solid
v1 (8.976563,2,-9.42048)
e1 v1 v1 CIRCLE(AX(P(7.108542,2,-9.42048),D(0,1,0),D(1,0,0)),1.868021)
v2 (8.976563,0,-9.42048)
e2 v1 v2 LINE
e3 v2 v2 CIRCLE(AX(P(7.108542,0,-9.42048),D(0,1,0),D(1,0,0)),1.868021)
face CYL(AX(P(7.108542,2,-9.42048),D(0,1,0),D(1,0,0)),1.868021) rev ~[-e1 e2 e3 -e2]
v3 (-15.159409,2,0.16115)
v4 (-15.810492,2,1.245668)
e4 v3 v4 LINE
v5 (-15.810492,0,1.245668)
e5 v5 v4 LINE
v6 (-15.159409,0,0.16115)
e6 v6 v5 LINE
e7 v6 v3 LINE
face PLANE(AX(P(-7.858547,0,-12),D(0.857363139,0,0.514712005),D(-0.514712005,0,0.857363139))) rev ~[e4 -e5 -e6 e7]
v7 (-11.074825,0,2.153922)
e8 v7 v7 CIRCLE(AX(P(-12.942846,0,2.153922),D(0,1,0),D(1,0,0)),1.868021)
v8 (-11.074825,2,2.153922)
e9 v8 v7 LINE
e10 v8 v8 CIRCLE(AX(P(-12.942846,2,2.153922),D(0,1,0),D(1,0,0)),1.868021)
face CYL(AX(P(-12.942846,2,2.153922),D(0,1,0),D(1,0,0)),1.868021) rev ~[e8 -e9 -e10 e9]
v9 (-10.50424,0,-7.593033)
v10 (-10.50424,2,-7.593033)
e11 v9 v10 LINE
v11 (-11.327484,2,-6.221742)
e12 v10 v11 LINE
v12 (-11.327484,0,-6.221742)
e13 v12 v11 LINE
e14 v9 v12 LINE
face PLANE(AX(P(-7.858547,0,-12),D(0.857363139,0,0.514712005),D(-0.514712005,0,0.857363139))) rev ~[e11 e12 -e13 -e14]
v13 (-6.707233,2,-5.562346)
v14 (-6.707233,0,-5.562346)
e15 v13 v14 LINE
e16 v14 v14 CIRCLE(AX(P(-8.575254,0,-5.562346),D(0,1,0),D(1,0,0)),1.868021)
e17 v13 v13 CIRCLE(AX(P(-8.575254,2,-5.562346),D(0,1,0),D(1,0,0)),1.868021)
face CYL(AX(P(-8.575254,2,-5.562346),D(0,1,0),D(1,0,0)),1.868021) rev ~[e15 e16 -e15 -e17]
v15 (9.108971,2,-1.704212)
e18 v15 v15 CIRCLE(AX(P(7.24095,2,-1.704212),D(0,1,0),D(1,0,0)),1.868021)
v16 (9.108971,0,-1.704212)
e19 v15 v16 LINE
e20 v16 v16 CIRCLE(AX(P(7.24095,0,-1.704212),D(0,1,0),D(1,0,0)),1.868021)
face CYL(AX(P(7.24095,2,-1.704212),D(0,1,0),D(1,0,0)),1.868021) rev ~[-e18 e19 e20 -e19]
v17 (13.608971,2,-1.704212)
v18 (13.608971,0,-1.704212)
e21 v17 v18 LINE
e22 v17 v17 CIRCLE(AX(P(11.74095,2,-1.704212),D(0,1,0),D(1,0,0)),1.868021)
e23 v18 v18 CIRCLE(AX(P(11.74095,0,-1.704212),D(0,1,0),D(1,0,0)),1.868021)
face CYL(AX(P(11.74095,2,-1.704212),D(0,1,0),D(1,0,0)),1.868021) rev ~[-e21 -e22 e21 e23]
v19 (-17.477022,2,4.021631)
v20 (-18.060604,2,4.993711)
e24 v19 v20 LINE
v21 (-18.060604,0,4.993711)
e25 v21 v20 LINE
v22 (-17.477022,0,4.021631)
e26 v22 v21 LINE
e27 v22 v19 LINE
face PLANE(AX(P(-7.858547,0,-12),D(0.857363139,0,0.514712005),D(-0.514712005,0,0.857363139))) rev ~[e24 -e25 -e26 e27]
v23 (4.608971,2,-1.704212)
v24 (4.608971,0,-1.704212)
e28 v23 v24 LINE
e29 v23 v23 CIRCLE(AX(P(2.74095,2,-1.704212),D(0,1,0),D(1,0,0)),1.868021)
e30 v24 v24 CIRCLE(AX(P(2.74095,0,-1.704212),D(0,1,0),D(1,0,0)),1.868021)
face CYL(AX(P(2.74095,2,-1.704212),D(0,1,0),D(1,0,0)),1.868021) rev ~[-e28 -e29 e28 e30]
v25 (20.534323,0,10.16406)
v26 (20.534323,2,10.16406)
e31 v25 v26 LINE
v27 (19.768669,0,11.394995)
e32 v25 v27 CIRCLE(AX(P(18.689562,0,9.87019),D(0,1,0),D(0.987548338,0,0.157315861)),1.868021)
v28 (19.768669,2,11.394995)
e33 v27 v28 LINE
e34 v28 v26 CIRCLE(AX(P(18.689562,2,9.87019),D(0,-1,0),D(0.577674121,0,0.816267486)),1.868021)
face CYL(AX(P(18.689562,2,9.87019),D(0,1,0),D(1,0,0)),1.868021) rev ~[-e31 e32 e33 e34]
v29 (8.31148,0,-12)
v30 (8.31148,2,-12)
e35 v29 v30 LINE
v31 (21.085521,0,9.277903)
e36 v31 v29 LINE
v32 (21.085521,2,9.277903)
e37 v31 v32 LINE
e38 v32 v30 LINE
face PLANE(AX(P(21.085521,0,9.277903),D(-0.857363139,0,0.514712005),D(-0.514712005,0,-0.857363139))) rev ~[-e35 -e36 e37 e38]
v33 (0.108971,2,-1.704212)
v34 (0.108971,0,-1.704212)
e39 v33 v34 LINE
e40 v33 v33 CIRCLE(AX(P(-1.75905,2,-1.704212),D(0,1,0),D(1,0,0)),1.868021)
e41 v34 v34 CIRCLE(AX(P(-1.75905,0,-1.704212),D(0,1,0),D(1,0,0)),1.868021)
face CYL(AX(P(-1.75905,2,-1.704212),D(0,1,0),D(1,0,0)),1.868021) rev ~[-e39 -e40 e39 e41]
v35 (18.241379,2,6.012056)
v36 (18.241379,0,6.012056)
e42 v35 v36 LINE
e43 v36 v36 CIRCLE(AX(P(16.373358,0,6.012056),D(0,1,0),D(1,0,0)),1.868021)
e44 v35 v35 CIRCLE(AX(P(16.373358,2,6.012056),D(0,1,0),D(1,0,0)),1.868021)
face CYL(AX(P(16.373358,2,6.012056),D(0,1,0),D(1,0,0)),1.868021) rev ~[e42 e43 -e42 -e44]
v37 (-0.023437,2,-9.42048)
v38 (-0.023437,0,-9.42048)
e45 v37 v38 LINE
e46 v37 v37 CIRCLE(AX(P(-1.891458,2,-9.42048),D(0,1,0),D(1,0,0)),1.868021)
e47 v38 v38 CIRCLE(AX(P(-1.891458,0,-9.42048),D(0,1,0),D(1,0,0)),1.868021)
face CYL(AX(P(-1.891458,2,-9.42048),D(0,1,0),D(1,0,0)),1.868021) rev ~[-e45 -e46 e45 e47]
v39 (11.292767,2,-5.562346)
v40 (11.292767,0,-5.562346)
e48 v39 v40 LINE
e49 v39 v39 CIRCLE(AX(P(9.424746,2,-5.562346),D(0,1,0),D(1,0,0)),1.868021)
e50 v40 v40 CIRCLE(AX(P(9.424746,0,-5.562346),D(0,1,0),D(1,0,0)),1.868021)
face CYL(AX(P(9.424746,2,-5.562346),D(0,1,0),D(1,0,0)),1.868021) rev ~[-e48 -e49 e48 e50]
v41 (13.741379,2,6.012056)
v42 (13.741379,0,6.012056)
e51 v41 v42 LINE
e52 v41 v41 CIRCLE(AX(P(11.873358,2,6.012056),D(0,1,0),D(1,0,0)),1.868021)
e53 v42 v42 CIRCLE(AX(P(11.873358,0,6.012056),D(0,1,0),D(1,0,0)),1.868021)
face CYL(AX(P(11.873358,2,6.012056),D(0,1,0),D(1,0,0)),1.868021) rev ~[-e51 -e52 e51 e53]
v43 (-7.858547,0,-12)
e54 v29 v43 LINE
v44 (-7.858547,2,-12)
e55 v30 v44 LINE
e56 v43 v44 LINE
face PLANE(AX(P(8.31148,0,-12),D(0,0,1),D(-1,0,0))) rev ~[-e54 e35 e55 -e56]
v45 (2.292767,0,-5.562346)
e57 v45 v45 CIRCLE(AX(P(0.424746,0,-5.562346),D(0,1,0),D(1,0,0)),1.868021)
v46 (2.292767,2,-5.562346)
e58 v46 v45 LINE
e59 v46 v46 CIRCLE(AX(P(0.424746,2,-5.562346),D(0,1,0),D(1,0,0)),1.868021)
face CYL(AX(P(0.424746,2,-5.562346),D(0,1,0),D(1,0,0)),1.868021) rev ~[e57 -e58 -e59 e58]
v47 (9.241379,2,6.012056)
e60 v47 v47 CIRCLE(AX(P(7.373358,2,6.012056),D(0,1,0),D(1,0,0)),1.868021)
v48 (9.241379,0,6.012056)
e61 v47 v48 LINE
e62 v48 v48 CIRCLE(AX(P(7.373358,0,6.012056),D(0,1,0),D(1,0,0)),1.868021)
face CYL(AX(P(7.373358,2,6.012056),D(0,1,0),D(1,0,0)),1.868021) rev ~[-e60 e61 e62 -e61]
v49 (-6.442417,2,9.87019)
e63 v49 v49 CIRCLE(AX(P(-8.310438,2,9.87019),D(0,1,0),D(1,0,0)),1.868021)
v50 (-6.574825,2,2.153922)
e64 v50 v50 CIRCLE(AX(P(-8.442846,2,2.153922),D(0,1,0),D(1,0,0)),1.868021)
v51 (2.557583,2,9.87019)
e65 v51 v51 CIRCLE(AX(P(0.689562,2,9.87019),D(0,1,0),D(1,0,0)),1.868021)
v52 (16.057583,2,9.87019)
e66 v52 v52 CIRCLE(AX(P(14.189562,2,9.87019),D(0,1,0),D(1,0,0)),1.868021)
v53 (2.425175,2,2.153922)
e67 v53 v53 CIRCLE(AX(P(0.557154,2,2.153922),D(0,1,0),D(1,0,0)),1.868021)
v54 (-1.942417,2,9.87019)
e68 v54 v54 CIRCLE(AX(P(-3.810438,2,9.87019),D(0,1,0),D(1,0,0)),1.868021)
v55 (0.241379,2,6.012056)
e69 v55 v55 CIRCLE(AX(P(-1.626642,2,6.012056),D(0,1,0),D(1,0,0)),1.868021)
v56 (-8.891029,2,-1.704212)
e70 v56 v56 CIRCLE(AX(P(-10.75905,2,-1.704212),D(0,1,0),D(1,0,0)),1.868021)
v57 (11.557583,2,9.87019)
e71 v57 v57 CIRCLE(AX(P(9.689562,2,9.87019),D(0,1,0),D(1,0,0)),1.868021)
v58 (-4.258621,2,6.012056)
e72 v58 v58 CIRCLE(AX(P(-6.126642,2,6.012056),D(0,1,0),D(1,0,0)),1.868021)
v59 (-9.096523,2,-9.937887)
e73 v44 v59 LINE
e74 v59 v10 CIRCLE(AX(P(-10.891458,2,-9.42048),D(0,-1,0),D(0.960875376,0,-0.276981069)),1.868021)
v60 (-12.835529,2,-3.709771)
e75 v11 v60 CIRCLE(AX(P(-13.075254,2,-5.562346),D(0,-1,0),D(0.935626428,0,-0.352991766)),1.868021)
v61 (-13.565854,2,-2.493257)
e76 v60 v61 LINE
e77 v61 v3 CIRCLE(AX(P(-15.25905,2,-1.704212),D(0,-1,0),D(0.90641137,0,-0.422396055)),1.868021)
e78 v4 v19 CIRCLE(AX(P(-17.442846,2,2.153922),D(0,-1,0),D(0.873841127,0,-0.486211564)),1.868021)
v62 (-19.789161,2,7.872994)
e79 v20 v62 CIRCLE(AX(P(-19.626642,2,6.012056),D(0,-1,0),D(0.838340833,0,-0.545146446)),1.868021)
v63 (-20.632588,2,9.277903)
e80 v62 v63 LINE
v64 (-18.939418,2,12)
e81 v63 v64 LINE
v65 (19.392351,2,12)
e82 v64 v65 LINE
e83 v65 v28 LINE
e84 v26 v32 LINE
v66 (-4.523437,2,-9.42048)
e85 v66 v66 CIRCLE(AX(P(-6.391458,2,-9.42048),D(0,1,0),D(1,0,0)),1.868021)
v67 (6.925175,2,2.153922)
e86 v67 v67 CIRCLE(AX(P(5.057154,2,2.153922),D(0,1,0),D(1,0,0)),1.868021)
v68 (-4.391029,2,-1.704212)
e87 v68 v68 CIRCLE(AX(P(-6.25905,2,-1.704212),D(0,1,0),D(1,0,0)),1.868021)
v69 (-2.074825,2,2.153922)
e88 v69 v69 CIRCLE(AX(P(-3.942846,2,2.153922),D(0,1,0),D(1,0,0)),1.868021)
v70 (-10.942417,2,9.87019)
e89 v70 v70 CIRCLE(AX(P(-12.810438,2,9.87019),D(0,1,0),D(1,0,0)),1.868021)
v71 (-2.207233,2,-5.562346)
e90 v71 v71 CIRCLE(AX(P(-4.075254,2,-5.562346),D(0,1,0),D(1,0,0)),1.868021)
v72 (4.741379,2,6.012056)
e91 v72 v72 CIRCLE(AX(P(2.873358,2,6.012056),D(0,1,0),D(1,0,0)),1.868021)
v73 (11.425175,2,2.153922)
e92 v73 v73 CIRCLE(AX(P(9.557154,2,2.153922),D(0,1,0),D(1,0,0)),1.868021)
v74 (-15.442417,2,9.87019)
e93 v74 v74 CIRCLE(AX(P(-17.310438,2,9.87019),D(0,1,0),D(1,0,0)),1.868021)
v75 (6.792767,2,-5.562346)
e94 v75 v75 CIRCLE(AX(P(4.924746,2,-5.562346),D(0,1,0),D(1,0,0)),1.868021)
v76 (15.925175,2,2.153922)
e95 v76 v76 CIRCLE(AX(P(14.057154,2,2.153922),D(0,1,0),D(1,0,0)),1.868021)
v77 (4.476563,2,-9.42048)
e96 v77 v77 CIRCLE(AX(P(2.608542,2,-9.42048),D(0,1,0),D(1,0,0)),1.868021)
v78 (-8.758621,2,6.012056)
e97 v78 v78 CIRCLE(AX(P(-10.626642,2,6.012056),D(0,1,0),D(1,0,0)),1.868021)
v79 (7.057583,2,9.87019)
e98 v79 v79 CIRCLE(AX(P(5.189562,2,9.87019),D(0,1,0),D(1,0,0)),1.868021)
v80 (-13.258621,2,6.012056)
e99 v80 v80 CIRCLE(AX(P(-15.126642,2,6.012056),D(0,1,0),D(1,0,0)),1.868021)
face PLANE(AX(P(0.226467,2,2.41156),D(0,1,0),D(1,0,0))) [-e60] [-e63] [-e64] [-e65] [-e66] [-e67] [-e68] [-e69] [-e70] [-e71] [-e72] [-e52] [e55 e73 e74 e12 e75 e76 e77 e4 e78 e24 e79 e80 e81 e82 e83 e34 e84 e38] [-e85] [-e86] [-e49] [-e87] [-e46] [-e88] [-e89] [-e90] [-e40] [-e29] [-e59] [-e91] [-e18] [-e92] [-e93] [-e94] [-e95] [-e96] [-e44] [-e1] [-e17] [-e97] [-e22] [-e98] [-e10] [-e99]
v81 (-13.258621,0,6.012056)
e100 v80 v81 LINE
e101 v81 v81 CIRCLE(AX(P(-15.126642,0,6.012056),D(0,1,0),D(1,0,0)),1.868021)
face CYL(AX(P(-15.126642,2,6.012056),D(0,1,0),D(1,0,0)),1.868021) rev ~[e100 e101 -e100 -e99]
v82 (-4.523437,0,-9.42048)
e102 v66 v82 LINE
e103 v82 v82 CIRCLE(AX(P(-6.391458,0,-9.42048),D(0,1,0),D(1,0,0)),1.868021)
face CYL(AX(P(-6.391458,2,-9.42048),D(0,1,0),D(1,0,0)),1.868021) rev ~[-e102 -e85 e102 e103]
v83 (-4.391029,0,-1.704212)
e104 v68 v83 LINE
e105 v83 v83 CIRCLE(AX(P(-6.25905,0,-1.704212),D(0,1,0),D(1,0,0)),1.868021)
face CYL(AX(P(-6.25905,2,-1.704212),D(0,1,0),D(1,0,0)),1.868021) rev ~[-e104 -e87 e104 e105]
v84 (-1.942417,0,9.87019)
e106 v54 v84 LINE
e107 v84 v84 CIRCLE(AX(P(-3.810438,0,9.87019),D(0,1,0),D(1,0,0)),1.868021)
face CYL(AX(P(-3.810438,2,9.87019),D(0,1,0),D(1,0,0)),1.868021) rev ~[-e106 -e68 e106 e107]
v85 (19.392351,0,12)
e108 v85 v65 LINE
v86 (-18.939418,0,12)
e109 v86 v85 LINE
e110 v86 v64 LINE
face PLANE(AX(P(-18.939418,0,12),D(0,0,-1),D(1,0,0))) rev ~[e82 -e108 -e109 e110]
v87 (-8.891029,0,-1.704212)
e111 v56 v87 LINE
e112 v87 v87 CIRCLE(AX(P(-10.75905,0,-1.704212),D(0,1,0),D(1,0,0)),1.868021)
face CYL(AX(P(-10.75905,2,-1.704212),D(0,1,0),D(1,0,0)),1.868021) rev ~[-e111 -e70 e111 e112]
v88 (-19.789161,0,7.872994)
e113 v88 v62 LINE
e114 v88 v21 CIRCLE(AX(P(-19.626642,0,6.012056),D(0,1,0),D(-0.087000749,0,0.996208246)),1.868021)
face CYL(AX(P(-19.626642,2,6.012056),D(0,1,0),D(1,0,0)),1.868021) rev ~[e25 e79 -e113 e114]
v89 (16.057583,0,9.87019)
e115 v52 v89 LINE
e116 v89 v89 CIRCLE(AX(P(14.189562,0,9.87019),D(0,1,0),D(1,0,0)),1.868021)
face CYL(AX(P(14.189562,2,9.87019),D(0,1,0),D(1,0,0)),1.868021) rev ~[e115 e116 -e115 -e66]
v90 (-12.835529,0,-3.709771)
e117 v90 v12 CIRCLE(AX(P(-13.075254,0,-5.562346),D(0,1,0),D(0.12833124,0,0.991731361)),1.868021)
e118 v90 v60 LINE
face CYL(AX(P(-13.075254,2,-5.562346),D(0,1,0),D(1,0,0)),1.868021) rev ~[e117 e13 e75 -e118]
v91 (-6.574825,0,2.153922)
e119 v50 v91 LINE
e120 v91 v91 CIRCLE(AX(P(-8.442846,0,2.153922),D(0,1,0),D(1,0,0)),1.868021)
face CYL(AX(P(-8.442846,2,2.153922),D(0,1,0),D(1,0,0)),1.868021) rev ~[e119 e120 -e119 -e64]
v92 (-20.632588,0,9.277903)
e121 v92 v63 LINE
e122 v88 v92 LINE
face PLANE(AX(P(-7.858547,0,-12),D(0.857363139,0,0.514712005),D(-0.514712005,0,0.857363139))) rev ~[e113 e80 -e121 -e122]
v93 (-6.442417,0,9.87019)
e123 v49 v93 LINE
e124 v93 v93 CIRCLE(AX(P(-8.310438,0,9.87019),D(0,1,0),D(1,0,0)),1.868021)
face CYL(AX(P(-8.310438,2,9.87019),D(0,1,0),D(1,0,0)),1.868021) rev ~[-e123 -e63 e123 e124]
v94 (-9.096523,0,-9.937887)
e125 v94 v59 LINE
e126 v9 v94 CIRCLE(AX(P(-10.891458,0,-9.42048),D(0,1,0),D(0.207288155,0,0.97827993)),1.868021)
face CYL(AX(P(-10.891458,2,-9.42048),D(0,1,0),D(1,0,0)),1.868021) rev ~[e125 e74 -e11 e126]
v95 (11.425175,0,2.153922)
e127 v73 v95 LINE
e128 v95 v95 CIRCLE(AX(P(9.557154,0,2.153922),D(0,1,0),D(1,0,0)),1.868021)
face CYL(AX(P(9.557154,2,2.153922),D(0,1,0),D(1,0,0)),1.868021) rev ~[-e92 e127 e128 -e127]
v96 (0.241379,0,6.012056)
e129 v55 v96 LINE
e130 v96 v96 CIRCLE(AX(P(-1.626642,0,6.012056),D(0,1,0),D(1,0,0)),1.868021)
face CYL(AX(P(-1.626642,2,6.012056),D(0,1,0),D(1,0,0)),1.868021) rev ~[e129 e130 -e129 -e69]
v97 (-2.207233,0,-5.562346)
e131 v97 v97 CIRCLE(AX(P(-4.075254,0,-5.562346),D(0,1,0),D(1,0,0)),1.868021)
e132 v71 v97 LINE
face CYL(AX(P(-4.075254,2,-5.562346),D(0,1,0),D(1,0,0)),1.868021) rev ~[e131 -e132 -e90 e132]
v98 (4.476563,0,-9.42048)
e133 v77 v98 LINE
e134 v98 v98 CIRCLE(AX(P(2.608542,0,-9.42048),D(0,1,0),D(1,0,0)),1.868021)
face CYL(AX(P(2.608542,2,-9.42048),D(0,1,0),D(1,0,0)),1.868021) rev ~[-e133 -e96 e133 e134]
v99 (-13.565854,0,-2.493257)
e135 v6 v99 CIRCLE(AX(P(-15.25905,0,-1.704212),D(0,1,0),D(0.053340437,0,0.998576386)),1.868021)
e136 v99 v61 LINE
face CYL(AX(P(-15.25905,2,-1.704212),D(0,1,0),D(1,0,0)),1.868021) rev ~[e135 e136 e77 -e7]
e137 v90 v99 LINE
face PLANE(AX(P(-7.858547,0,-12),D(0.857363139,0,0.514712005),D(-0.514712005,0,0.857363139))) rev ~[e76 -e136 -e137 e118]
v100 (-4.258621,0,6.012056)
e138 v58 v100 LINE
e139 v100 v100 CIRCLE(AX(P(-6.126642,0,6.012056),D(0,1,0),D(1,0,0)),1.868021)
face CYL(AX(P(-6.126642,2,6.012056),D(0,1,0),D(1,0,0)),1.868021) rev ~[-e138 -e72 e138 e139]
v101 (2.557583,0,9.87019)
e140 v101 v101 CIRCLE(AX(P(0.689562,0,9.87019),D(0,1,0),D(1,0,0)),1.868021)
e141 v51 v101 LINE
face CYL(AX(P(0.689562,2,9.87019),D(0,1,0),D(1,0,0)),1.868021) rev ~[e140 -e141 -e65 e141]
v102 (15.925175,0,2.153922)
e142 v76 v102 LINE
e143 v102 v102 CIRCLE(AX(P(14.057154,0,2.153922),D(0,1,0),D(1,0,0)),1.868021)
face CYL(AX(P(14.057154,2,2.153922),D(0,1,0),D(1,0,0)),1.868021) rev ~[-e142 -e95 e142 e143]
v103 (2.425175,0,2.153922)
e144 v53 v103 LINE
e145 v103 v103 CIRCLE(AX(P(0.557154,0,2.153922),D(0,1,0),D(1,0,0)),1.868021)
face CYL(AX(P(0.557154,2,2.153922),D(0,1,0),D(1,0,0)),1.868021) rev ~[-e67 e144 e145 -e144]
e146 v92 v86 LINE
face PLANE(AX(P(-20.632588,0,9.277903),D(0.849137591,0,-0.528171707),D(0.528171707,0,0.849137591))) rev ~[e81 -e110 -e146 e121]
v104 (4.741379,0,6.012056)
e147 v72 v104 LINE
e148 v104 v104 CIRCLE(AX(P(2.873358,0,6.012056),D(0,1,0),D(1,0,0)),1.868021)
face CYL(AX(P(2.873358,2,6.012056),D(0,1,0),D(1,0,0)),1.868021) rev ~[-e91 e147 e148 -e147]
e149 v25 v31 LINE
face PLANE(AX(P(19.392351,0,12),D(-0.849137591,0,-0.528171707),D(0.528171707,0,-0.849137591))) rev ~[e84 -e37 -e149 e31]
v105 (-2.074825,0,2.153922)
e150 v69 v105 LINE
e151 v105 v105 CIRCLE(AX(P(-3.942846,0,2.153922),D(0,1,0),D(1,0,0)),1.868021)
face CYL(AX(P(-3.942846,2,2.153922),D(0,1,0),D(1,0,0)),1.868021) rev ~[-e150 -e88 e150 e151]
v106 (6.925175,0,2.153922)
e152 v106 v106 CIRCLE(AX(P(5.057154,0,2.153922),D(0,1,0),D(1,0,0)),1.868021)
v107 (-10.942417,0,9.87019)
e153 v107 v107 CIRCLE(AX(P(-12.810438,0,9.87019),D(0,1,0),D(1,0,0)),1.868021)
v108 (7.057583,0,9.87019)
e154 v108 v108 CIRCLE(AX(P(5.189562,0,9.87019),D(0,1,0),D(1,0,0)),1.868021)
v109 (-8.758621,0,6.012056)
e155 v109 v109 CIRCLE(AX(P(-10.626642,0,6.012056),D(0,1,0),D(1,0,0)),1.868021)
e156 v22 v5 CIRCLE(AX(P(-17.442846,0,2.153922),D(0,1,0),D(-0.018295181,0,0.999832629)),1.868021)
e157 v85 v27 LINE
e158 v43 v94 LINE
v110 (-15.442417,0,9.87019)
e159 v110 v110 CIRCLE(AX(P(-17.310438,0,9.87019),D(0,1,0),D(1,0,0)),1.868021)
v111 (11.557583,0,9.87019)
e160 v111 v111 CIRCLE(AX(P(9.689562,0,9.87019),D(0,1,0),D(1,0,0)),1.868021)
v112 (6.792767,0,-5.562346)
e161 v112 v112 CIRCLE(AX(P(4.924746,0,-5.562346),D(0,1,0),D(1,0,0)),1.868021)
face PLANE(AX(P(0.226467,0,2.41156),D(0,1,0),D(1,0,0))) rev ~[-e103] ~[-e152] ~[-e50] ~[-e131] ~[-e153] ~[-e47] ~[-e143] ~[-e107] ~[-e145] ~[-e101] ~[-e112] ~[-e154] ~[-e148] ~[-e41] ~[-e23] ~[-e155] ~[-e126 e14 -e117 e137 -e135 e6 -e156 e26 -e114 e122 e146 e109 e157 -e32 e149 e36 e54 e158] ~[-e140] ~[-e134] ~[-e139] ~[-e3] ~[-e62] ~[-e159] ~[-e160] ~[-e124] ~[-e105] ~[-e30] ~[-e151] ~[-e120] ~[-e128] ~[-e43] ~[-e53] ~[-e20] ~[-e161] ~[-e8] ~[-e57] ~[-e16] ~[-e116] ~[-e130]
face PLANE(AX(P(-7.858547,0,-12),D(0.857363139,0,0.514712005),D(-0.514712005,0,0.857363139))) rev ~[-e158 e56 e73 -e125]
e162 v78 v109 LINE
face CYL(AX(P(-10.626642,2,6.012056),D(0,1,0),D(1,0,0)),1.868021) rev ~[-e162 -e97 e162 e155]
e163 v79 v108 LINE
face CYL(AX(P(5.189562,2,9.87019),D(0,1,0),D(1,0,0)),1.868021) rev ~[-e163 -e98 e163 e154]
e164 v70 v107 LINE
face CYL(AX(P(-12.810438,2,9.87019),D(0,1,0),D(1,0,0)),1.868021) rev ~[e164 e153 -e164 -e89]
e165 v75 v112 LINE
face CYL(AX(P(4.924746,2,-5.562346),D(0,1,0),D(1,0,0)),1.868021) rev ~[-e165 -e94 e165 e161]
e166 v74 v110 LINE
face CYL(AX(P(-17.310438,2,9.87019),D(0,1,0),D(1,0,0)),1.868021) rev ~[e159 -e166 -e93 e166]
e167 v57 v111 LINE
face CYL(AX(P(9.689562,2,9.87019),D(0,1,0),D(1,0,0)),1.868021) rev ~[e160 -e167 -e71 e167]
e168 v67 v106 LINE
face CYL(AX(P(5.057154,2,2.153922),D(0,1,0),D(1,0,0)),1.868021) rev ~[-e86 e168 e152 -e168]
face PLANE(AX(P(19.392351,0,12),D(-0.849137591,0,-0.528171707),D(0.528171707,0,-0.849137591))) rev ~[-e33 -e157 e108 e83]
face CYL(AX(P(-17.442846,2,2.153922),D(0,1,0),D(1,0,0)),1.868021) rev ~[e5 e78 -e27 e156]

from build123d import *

# Parameters (mm, degrees)
BOSS_EXTRUDE1_DEPTH        = 2
SKETCH2_R                  = 1.868021305
CUT_EXTRUDE1_DEPTH         = 2
LPATTERN1_COUNT            = 4
LPATTERN1_PITCH            = 4.5
LPATTERN2_COUNT            = 6
LPATTERN2_PITCH            = 4.5
LPATTERN3_COUNT            = 9
LPATTERN3_PITCH            = 4.5
LPATTERN3_COPY_1_SKETCH_R  = 1.868021305
LPATTERN3_COPY_1_DEPTH     = 2
LPATTERN3_COPY_2_SKETCH_R  = 1.868021305
LPATTERN3_COPY_2_DEPTH     = 2
LPATTERN3_COPY_3_SKETCH_R  = 1.868021305
LPATTERN3_COPY_3_DEPTH     = 2
LPATTERN3_COPY_4_SKETCH_R  = 1.868021305
LPATTERN3_COPY_4_DEPTH     = 2
LPATTERN3_COPY_5_SKETCH_R  = 1.868021305
LPATTERN3_COPY_5_DEPTH     = 2
LPATTERN3_COPY_6_SKETCH_R  = 1.868021305
LPATTERN3_COPY_6_DEPTH     = 2
LPATTERN3_COPY_7_SKETCH_R  = 1.868021305
LPATTERN3_COPY_7_DEPTH     = 2
LPATTERN3_COPY_8_SKETCH_R  = 1.868021305
LPATTERN3_COPY_8_DEPTH     = 2
LPATTERN3_COPY_9_SKETCH_R  = 1.868021305
LPATTERN3_COPY_9_DEPTH     = 2
LPATTERN3_COPY_10_SKETCH_R = 1.868021305
LPATTERN3_COPY_10_DEPTH    = 2
LPATTERN3_COPY_11_SKETCH_R = 1.868021305
LPATTERN3_COPY_11_DEPTH    = 2
LPATTERN3_COPY_12_SKETCH_R = 1.868021305
LPATTERN3_COPY_12_DEPTH    = 2
LPATTERN3_COPY_13_SKETCH_R = 1.868021305
LPATTERN3_COPY_13_DEPTH    = 2
LPATTERN3_COPY_14_SKETCH_R = 1.868021305
LPATTERN3_COPY_14_DEPTH    = 2
LPATTERN3_COPY_15_SKETCH_R = 1.868021305
LPATTERN3_COPY_15_DEPTH    = 2
LPATTERN3_COPY_16_SKETCH_R = 1.868021305
LPATTERN3_COPY_16_DEPTH    = 2
LPATTERN3_COPY_17_SKETCH_R = 1.868021305
LPATTERN3_COPY_17_DEPTH    = 2
LPATTERN3_COPY_18_SKETCH_R = 1.868021305
LPATTERN3_COPY_18_DEPTH    = 2
LPATTERN3_COPY_19_SKETCH_R = 1.868021305
LPATTERN3_COPY_19_DEPTH    = 2
LPATTERN3_COPY_20_SKETCH_R = 1.868021305
LPATTERN3_COPY_20_DEPTH    = 2
LPATTERN3_COPY_21_SKETCH_R = 1.868021305
LPATTERN3_COPY_21_DEPTH    = 2
LPATTERN3_COPY_22_SKETCH_R = 1.868021305
LPATTERN3_COPY_22_DEPTH    = 2
LPATTERN3_COPY_23_SKETCH_R = 1.868021305
LPATTERN3_COPY_23_DEPTH    = 2
LPATTERN3_COPY_24_SKETCH_R = 1.868021305
LPATTERN3_COPY_24_DEPTH    = 2
LPATTERN3_COPY_25_SKETCH_R = 1.868021305
LPATTERN3_COPY_25_DEPTH    = 2
LPATTERN3_COPY_26_SKETCH_R = 1.868021305
LPATTERN3_COPY_26_DEPTH    = 2
LPATTERN3_COPY_27_SKETCH_R = 1.868021305
LPATTERN3_COPY_27_DEPTH    = 2
LPATTERN3_COPY_28_SKETCH_R = 1.868021305
LPATTERN3_COPY_28_DEPTH    = 2
LPATTERN3_COPY_29_SKETCH_R = 1.868021305
LPATTERN3_COPY_29_DEPTH    = 2
LPATTERN3_COPY_30_SKETCH_R = 1.868021305
LPATTERN3_COPY_30_DEPTH    = 2
LPATTERN3_COPY_31_SKETCH_R = 1.868021305
LPATTERN3_COPY_31_DEPTH    = 2
LPATTERN3_COPY_32_SKETCH_R = 1.868021305
LPATTERN3_COPY_32_DEPTH    = 2
LPATTERN3_COPY_33_SKETCH_R = 1.868021305
LPATTERN3_COPY_33_DEPTH    = 2
LPATTERN3_COPY_34_SKETCH_R = 1.868021305
LPATTERN3_COPY_34_DEPTH    = 2
LPATTERN3_COPY_35_SKETCH_R = 1.868021305
LPATTERN3_COPY_35_DEPTH    = 2
LPATTERN3_COPY_36_SKETCH_R = 1.868021305
LPATTERN3_COPY_36_DEPTH    = 2
LPATTERN3_COPY_37_SKETCH_R = 1.868021305
LPATTERN3_COPY_37_DEPTH    = 2
LPATTERN3_COPY_38_SKETCH_R = 1.868021305
LPATTERN3_COPY_38_DEPTH    = 2
LPATTERN3_COPY_39_SKETCH_R = 1.868021305
LPATTERN3_COPY_39_DEPTH    = 2
LPATTERN3_COPY_40_SKETCH_R = 1.868021305
LPATTERN3_COPY_40_DEPTH    = 2


with BuildPart() as part:
    # Sketch1 → Boss-Extrude1 (new body)
    with BuildSketch(Plane(origin=(0, 0, 0), x_dir=(1, 0, 0), z_dir=(0, 1, 0))):
        Polygon((8.311480428, 12), (-7.85854732, 12), (-20.632588284, -9.27790252), (-18.939417603, -12), (19.392350711, -12), (21.085521392, -9.27790252), align=None)
    extrude(amount=BOSS_EXTRUDE1_DEPTH)

    # Sketch2 → Cut-Extrude1 (cut)
    with BuildSketch(Plane(origin=(0, 2, 0), x_dir=(1, 0, 0), z_dir=(0, 1, 0))):
        with Locations((7.108541754, 9.420480397)):
            Circle(SKETCH2_R)
    cut_extrude1 = extrude(amount=-CUT_EXTRUDE1_DEPTH, mode=Mode.SUBTRACT)

    # LPattern1: Cut-Extrude1 ×4
    with Locations(*[(-i * LPATTERN1_PITCH, 0, 0) for i in range(1, LPATTERN1_COUNT)]):
        add(cut_extrude1, mode=Mode.SUBTRACT)

    # LPattern2: Cut-Extrude1 ×6
    with Locations(*[Vector(0.514712005, 0, 0.857363139) * (i * LPATTERN2_PITCH) for i in range(1, LPATTERN2_COUNT)]):
        add(cut_extrude1, mode=Mode.SUBTRACT)

    # LPattern3: Cut-Extrude1 ×9
    with Locations(*[(-i * LPATTERN3_PITCH, 0, 0) for i in range(1, LPATTERN3_COUNT)]):
        add(cut_extrude1, mode=Mode.SUBTRACT)

    # LPattern3 copy 1 sketch → LPattern3 copy 1 (cut)
    with BuildSketch(Plane(origin=(-2.183795979, 2, 3.858134126), x_dir=(1, 0, 0), z_dir=(0, 1, 0))):
        with Locations((7.108541754, 9.420480397)):
            Circle(LPATTERN3_COPY_1_SKETCH_R)
    extrude(amount=-LPATTERN3_COPY_1_DEPTH, mode=Mode.SUBTRACT)

    # LPattern3 copy 2 sketch → LPattern3 copy 2 (cut)
    with BuildSketch(Plane(origin=(-6.683795979, 2, 3.858134126), x_dir=(1, 0, 0), z_dir=(0, 1, 0))):
        with Locations((7.108541754, 9.420480397)):
            Circle(LPATTERN3_COPY_2_SKETCH_R)
    extrude(amount=-LPATTERN3_COPY_2_DEPTH, mode=Mode.SUBTRACT)

    # LPattern3 copy 3 sketch → LPattern3 copy 3 (cut)
    with BuildSketch(Plane(origin=(-11.183795979, 2, 3.858134126), x_dir=(1, 0, 0), z_dir=(0, 1, 0))):
        with Locations((7.108541754, 9.420480397)):
            Circle(LPATTERN3_COPY_3_SKETCH_R)
    extrude(amount=-LPATTERN3_COPY_3_DEPTH, mode=Mode.SUBTRACT)

    # LPattern3 copy 4 sketch → LPattern3 copy 4 (cut)
    with BuildSketch(Plane(origin=(-15.683795979, 2, 3.858134126), x_dir=(1, 0, 0), z_dir=(0, 1, 0))):
        with Locations((7.108541754, 9.420480397)):
            Circle(LPATTERN3_COPY_4_SKETCH_R)
    extrude(amount=-LPATTERN3_COPY_4_DEPTH, mode=Mode.SUBTRACT)

    # LPattern3 copy 5 sketch → LPattern3 copy 5 (cut)
    with BuildSketch(Plane(origin=(-20.183795979, 2, 3.858134126), x_dir=(1, 0, 0), z_dir=(0, 1, 0))):
        with Locations((7.108541754, 9.420480397)):
            Circle(LPATTERN3_COPY_5_SKETCH_R)
    extrude(amount=-LPATTERN3_COPY_5_DEPTH, mode=Mode.SUBTRACT)

    # LPattern3 copy 6 sketch → LPattern3 copy 6 (cut)
    with BuildSketch(Plane(origin=(-24.683795979, 2, 3.858134126), x_dir=(1, 0, 0), z_dir=(0, 1, 0))):
        with Locations((7.108541754, 9.420480397)):
            Circle(LPATTERN3_COPY_6_SKETCH_R)
    extrude(amount=-LPATTERN3_COPY_6_DEPTH, mode=Mode.SUBTRACT)

    # LPattern3 copy 7 sketch → LPattern3 copy 7 (cut)
    with BuildSketch(Plane(origin=(-29.183795979, 2, 3.858134126), x_dir=(1, 0, 0), z_dir=(0, 1, 0))):
        with Locations((7.108541754, 9.420480397)):
            Circle(LPATTERN3_COPY_7_SKETCH_R)
    extrude(amount=-LPATTERN3_COPY_7_DEPTH, mode=Mode.SUBTRACT)

    # LPattern3 copy 8 sketch → LPattern3 copy 8 (cut)
    with BuildSketch(Plane(origin=(-33.683795979, 2, 3.858134126), x_dir=(1, 0, 0), z_dir=(0, 1, 0))):
        with Locations((7.108541754, 9.420480397)):
            Circle(LPATTERN3_COPY_8_SKETCH_R)
    extrude(amount=-LPATTERN3_COPY_8_DEPTH, mode=Mode.SUBTRACT)

    # LPattern3 copy 9 sketch → LPattern3 copy 9 (cut)
    with BuildSketch(Plane(origin=(0.132408042, 2, 7.716268252), x_dir=(1, 0, 0), z_dir=(0, 1, 0))):
        with Locations((7.108541754, 9.420480397)):
            Circle(LPATTERN3_COPY_9_SKETCH_R)
    extrude(amount=-LPATTERN3_COPY_9_DEPTH, mode=Mode.SUBTRACT)

    # LPattern3 copy 10 sketch → LPattern3 copy 10 (cut)
    with BuildSketch(Plane(origin=(-4.367591958, 2, 7.716268252), x_dir=(1, 0, 0), z_dir=(0, 1, 0))):
        with Locations((7.108541754, 9.420480397)):
            Circle(LPATTERN3_COPY_10_SKETCH_R)
    extrude(amount=-LPATTERN3_COPY_10_DEPTH, mode=Mode.SUBTRACT)

    # LPattern3 copy 11 sketch → LPattern3 copy 11 (cut)
    with BuildSketch(Plane(origin=(-8.867591958, 2, 7.716268252), x_dir=(1, 0, 0), z_dir=(0, 1, 0))):
        with Locations((7.108541754, 9.420480397)):
            Circle(LPATTERN3_COPY_11_SKETCH_R)
    extrude(amount=-LPATTERN3_COPY_11_DEPTH, mode=Mode.SUBTRACT)

    # LPattern3 copy 12 sketch → LPattern3 copy 12 (cut)
    with BuildSketch(Plane(origin=(-13.367591958, 2, 7.716268252), x_dir=(1, 0, 0), z_dir=(0, 1, 0))):
        with Locations((7.108541754, 9.420480397)):
            Circle(LPATTERN3_COPY_12_SKETCH_R)
    extrude(amount=-LPATTERN3_COPY_12_DEPTH, mode=Mode.SUBTRACT)

    # LPattern3 copy 13 sketch → LPattern3 copy 13 (cut)
    with BuildSketch(Plane(origin=(-17.867591958, 2, 7.716268252), x_dir=(1, 0, 0), z_dir=(0, 1, 0))):
        with Locations((7.108541754, 9.420480397)):
            Circle(LPATTERN3_COPY_13_SKETCH_R)
    extrude(amount=-LPATTERN3_COPY_13_DEPTH, mode=Mode.SUBTRACT)

    # LPattern3 copy 14 sketch → LPattern3 copy 14 (cut)
    with BuildSketch(Plane(origin=(-22.367591958, 2, 7.716268252), x_dir=(1, 0, 0), z_dir=(0, 1, 0))):
        with Locations((7.108541754, 9.420480397)):
            Circle(LPATTERN3_COPY_14_SKETCH_R)
    extrude(amount=-LPATTERN3_COPY_14_DEPTH, mode=Mode.SUBTRACT)

    # LPattern3 copy 15 sketch → LPattern3 copy 15 (cut)
    with BuildSketch(Plane(origin=(-26.867591958, 2, 7.716268252), x_dir=(1, 0, 0), z_dir=(0, 1, 0))):
        with Locations((7.108541754, 9.420480397)):
            Circle(LPATTERN3_COPY_15_SKETCH_R)
    extrude(amount=-LPATTERN3_COPY_15_DEPTH, mode=Mode.SUBTRACT)

    # LPattern3 copy 16 sketch → LPattern3 copy 16 (cut)
    with BuildSketch(Plane(origin=(-31.367591958, 2, 7.716268252), x_dir=(1, 0, 0), z_dir=(0, 1, 0))):
        with Locations((7.108541754, 9.420480397)):
            Circle(LPATTERN3_COPY_16_SKETCH_R)
    extrude(amount=-LPATTERN3_COPY_16_DEPTH, mode=Mode.SUBTRACT)

    # LPattern3 copy 17 sketch → LPattern3 copy 17 (cut)
    with BuildSketch(Plane(origin=(2.448612062, 2, 11.574402378), x_dir=(1, 0, 0), z_dir=(0, 1, 0))):
        with Locations((7.108541754, 9.420480397)):
            Circle(LPATTERN3_COPY_17_SKETCH_R)
    extrude(amount=-LPATTERN3_COPY_17_DEPTH, mode=Mode.SUBTRACT)

    # LPattern3 copy 18 sketch → LPattern3 copy 18 (cut)
    with BuildSketch(Plane(origin=(-2.051387938, 2, 11.574402378), x_dir=(1, 0, 0), z_dir=(0, 1, 0))):
        with Locations((7.108541754, 9.420480397)):
            Circle(LPATTERN3_COPY_18_SKETCH_R)
    extrude(amount=-LPATTERN3_COPY_18_DEPTH, mode=Mode.SUBTRACT)

    # LPattern3 copy 19 sketch → LPattern3 copy 19 (cut)
    with BuildSketch(Plane(origin=(-6.551387938, 2, 11.574402378), x_dir=(1, 0, 0), z_dir=(0, 1, 0))):
        with Locations((7.108541754, 9.420480397)):
            Circle(LPATTERN3_COPY_19_SKETCH_R)
    extrude(amount=-LPATTERN3_COPY_19_DEPTH, mode=Mode.SUBTRACT)

    # LPattern3 copy 20 sketch → LPattern3 copy 20 (cut)
    with BuildSketch(Plane(origin=(-11.051387938, 2, 11.574402378), x_dir=(1, 0, 0), z_dir=(0, 1, 0))):
        with Locations((7.108541754, 9.420480397)):
            Circle(LPATTERN3_COPY_20_SKETCH_R)
    extrude(amount=-LPATTERN3_COPY_20_DEPTH, mode=Mode.SUBTRACT)

    # LPattern3 copy 21 sketch → LPattern3 copy 21 (cut)
    with BuildSketch(Plane(origin=(-15.551387938, 2, 11.574402378), x_dir=(1, 0, 0), z_dir=(0, 1, 0))):
        with Locations((7.108541754, 9.420480397)):
            Circle(LPATTERN3_COPY_21_SKETCH_R)
    extrude(amount=-LPATTERN3_COPY_21_DEPTH, mode=Mode.SUBTRACT)

    # LPattern3 copy 22 sketch → LPattern3 copy 22 (cut)
    with BuildSketch(Plane(origin=(-20.051387938, 2, 11.574402378), x_dir=(1, 0, 0), z_dir=(0, 1, 0))):
        with Locations((7.108541754, 9.420480397)):
            Circle(LPATTERN3_COPY_22_SKETCH_R)
    extrude(amount=-LPATTERN3_COPY_22_DEPTH, mode=Mode.SUBTRACT)

    # LPattern3 copy 23 sketch → LPattern3 copy 23 (cut)
    with BuildSketch(Plane(origin=(-24.551387938, 2, 11.574402378), x_dir=(1, 0, 0), z_dir=(0, 1, 0))):
        with Locations((7.108541754, 9.420480397)):
            Circle(LPATTERN3_COPY_23_SKETCH_R)
    extrude(amount=-LPATTERN3_COPY_23_DEPTH, mode=Mode.SUBTRACT)

    # LPattern3 copy 24 sketch → LPattern3 copy 24 (cut)
    with BuildSketch(Plane(origin=(-29.051387938, 2, 11.574402378), x_dir=(1, 0, 0), z_dir=(0, 1, 0))):
        with Locations((7.108541754, 9.420480397)):
            Circle(LPATTERN3_COPY_24_SKETCH_R)
    extrude(amount=-LPATTERN3_COPY_24_DEPTH, mode=Mode.SUBTRACT)

    # LPattern3 copy 25 sketch → LPattern3 copy 25 (cut)
    with BuildSketch(Plane(origin=(4.764816083, 2, 15.432536504), x_dir=(1, 0, 0), z_dir=(0, 1, 0))):
        with Locations((7.108541754, 9.420480397)):
            Circle(LPATTERN3_COPY_25_SKETCH_R)
    extrude(amount=-LPATTERN3_COPY_25_DEPTH, mode=Mode.SUBTRACT)

    # LPattern3 copy 26 sketch → LPattern3 copy 26 (cut)
    with BuildSketch(Plane(origin=(0.264816083, 2, 15.432536504), x_dir=(1, 0, 0), z_dir=(0, 1, 0))):
        with Locations((7.108541754, 9.420480397)):
            Circle(LPATTERN3_COPY_26_SKETCH_R)
    extrude(amount=-LPATTERN3_COPY_26_DEPTH, mode=Mode.SUBTRACT)

    # LPattern3 copy 27 sketch → LPattern3 copy 27 (cut)
    with BuildSketch(Plane(origin=(-4.235183917, 2, 15.432536504), x_dir=(1, 0, 0), z_dir=(0, 1, 0))):
        with Locations((7.108541754, 9.420480397)):
            Circle(LPATTERN3_COPY_27_SKETCH_R)
    extrude(amount=-LPATTERN3_COPY_27_DEPTH, mode=Mode.SUBTRACT)

    # LPattern3 copy 28 sketch → LPattern3 copy 28 (cut)
    with BuildSketch(Plane(origin=(-8.735183917, 2, 15.432536504), x_dir=(1, 0, 0), z_dir=(0, 1, 0))):
        with Locations((7.108541754, 9.420480397)):
            Circle(LPATTERN3_COPY_28_SKETCH_R)
    extrude(amount=-LPATTERN3_COPY_28_DEPTH, mode=Mode.SUBTRACT)

    # LPattern3 copy 29 sketch → LPattern3 copy 29 (cut)
    with BuildSketch(Plane(origin=(-13.235183917, 2, 15.432536504), x_dir=(1, 0, 0), z_dir=(0, 1, 0))):
        with Locations((7.108541754, 9.420480397)):
            Circle(LPATTERN3_COPY_29_SKETCH_R)
    extrude(amount=-LPATTERN3_COPY_29_DEPTH, mode=Mode.SUBTRACT)

    # LPattern3 copy 30 sketch → LPattern3 copy 30 (cut)
    with BuildSketch(Plane(origin=(-17.735183917, 2, 15.432536504), x_dir=(1, 0, 0), z_dir=(0, 1, 0))):
        with Locations((7.108541754, 9.420480397)):
            Circle(LPATTERN3_COPY_30_SKETCH_R)
    extrude(amount=-LPATTERN3_COPY_30_DEPTH, mode=Mode.SUBTRACT)

    # LPattern3 copy 31 sketch → LPattern3 copy 31 (cut)
    with BuildSketch(Plane(origin=(-22.235183917, 2, 15.432536504), x_dir=(1, 0, 0), z_dir=(0, 1, 0))):
        with Locations((7.108541754, 9.420480397)):
            Circle(LPATTERN3_COPY_31_SKETCH_R)
    extrude(amount=-LPATTERN3_COPY_31_DEPTH, mode=Mode.SUBTRACT)

    # LPattern3 copy 32 sketch → LPattern3 copy 32 (cut)
    with BuildSketch(Plane(origin=(-26.735183917, 2, 15.432536504), x_dir=(1, 0, 0), z_dir=(0, 1, 0))):
        with Locations((7.108541754, 9.420480397)):
            Circle(LPATTERN3_COPY_32_SKETCH_R)
    extrude(amount=-LPATTERN3_COPY_32_DEPTH, mode=Mode.SUBTRACT)

    # LPattern3 copy 33 sketch → LPattern3 copy 33 (cut)
    with BuildSketch(Plane(origin=(7.081020104, 2, 19.29067063), x_dir=(1, 0, 0), z_dir=(0, 1, 0))):
        with Locations((7.108541754, 9.420480397)):
            Circle(LPATTERN3_COPY_33_SKETCH_R)
    extrude(amount=-LPATTERN3_COPY_33_DEPTH, mode=Mode.SUBTRACT)

    # LPattern3 copy 34 sketch → LPattern3 copy 34 (cut)
    with BuildSketch(Plane(origin=(2.581020104, 2, 19.29067063), x_dir=(1, 0, 0), z_dir=(0, 1, 0))):
        with Locations((7.108541754, 9.420480397)):
            Circle(LPATTERN3_COPY_34_SKETCH_R)
    extrude(amount=-LPATTERN3_COPY_34_DEPTH, mode=Mode.SUBTRACT)

    # LPattern3 copy 35 sketch → LPattern3 copy 35 (cut)
    with BuildSketch(Plane(origin=(-1.918979896, 2, 19.29067063), x_dir=(1, 0, 0), z_dir=(0, 1, 0))):
        with Locations((7.108541754, 9.420480397)):
            Circle(LPATTERN3_COPY_35_SKETCH_R)
    extrude(amount=-LPATTERN3_COPY_35_DEPTH, mode=Mode.SUBTRACT)

    # LPattern3 copy 36 sketch → LPattern3 copy 36 (cut)
    with BuildSketch(Plane(origin=(-6.418979896, 2, 19.29067063), x_dir=(1, 0, 0), z_dir=(0, 1, 0))):
        with Locations((7.108541754, 9.420480397)):
            Circle(LPATTERN3_COPY_36_SKETCH_R)
    extrude(amount=-LPATTERN3_COPY_36_DEPTH, mode=Mode.SUBTRACT)

    # LPattern3 copy 37 sketch → LPattern3 copy 37 (cut)
    with BuildSketch(Plane(origin=(-10.918979896, 2, 19.29067063), x_dir=(1, 0, 0), z_dir=(0, 1, 0))):
        with Locations((7.108541754, 9.420480397)):
            Circle(LPATTERN3_COPY_37_SKETCH_R)
    extrude(amount=-LPATTERN3_COPY_37_DEPTH, mode=Mode.SUBTRACT)

    # LPattern3 copy 38 sketch → LPattern3 copy 38 (cut)
    with BuildSketch(Plane(origin=(-15.418979896, 2, 19.29067063), x_dir=(1, 0, 0), z_dir=(0, 1, 0))):
        with Locations((7.108541754, 9.420480397)):
            Circle(LPATTERN3_COPY_38_SKETCH_R)
    extrude(amount=-LPATTERN3_COPY_38_DEPTH, mode=Mode.SUBTRACT)

    # LPattern3 copy 39 sketch → LPattern3 copy 39 (cut)
    with BuildSketch(Plane(origin=(-19.918979896, 2, 19.29067063), x_dir=(1, 0, 0), z_dir=(0, 1, 0))):
        with Locations((7.108541754, 9.420480397)):
            Circle(LPATTERN3_COPY_39_SKETCH_R)
    extrude(amount=-LPATTERN3_COPY_39_DEPTH, mode=Mode.SUBTRACT)

    # LPattern3 copy 40 sketch → LPattern3 copy 40 (cut)
    with BuildSketch(Plane(origin=(-24.418979896, 2, 19.29067063), x_dir=(1, 0, 0), z_dir=(0, 1, 0))):
        with Locations((7.108541754, 9.420480397)):
            Circle(LPATTERN3_COPY_40_SKETCH_R)
    extrude(amount=-LPATTERN3_COPY_40_DEPTH, mode=Mode.SUBTRACT)


solid = part.part
